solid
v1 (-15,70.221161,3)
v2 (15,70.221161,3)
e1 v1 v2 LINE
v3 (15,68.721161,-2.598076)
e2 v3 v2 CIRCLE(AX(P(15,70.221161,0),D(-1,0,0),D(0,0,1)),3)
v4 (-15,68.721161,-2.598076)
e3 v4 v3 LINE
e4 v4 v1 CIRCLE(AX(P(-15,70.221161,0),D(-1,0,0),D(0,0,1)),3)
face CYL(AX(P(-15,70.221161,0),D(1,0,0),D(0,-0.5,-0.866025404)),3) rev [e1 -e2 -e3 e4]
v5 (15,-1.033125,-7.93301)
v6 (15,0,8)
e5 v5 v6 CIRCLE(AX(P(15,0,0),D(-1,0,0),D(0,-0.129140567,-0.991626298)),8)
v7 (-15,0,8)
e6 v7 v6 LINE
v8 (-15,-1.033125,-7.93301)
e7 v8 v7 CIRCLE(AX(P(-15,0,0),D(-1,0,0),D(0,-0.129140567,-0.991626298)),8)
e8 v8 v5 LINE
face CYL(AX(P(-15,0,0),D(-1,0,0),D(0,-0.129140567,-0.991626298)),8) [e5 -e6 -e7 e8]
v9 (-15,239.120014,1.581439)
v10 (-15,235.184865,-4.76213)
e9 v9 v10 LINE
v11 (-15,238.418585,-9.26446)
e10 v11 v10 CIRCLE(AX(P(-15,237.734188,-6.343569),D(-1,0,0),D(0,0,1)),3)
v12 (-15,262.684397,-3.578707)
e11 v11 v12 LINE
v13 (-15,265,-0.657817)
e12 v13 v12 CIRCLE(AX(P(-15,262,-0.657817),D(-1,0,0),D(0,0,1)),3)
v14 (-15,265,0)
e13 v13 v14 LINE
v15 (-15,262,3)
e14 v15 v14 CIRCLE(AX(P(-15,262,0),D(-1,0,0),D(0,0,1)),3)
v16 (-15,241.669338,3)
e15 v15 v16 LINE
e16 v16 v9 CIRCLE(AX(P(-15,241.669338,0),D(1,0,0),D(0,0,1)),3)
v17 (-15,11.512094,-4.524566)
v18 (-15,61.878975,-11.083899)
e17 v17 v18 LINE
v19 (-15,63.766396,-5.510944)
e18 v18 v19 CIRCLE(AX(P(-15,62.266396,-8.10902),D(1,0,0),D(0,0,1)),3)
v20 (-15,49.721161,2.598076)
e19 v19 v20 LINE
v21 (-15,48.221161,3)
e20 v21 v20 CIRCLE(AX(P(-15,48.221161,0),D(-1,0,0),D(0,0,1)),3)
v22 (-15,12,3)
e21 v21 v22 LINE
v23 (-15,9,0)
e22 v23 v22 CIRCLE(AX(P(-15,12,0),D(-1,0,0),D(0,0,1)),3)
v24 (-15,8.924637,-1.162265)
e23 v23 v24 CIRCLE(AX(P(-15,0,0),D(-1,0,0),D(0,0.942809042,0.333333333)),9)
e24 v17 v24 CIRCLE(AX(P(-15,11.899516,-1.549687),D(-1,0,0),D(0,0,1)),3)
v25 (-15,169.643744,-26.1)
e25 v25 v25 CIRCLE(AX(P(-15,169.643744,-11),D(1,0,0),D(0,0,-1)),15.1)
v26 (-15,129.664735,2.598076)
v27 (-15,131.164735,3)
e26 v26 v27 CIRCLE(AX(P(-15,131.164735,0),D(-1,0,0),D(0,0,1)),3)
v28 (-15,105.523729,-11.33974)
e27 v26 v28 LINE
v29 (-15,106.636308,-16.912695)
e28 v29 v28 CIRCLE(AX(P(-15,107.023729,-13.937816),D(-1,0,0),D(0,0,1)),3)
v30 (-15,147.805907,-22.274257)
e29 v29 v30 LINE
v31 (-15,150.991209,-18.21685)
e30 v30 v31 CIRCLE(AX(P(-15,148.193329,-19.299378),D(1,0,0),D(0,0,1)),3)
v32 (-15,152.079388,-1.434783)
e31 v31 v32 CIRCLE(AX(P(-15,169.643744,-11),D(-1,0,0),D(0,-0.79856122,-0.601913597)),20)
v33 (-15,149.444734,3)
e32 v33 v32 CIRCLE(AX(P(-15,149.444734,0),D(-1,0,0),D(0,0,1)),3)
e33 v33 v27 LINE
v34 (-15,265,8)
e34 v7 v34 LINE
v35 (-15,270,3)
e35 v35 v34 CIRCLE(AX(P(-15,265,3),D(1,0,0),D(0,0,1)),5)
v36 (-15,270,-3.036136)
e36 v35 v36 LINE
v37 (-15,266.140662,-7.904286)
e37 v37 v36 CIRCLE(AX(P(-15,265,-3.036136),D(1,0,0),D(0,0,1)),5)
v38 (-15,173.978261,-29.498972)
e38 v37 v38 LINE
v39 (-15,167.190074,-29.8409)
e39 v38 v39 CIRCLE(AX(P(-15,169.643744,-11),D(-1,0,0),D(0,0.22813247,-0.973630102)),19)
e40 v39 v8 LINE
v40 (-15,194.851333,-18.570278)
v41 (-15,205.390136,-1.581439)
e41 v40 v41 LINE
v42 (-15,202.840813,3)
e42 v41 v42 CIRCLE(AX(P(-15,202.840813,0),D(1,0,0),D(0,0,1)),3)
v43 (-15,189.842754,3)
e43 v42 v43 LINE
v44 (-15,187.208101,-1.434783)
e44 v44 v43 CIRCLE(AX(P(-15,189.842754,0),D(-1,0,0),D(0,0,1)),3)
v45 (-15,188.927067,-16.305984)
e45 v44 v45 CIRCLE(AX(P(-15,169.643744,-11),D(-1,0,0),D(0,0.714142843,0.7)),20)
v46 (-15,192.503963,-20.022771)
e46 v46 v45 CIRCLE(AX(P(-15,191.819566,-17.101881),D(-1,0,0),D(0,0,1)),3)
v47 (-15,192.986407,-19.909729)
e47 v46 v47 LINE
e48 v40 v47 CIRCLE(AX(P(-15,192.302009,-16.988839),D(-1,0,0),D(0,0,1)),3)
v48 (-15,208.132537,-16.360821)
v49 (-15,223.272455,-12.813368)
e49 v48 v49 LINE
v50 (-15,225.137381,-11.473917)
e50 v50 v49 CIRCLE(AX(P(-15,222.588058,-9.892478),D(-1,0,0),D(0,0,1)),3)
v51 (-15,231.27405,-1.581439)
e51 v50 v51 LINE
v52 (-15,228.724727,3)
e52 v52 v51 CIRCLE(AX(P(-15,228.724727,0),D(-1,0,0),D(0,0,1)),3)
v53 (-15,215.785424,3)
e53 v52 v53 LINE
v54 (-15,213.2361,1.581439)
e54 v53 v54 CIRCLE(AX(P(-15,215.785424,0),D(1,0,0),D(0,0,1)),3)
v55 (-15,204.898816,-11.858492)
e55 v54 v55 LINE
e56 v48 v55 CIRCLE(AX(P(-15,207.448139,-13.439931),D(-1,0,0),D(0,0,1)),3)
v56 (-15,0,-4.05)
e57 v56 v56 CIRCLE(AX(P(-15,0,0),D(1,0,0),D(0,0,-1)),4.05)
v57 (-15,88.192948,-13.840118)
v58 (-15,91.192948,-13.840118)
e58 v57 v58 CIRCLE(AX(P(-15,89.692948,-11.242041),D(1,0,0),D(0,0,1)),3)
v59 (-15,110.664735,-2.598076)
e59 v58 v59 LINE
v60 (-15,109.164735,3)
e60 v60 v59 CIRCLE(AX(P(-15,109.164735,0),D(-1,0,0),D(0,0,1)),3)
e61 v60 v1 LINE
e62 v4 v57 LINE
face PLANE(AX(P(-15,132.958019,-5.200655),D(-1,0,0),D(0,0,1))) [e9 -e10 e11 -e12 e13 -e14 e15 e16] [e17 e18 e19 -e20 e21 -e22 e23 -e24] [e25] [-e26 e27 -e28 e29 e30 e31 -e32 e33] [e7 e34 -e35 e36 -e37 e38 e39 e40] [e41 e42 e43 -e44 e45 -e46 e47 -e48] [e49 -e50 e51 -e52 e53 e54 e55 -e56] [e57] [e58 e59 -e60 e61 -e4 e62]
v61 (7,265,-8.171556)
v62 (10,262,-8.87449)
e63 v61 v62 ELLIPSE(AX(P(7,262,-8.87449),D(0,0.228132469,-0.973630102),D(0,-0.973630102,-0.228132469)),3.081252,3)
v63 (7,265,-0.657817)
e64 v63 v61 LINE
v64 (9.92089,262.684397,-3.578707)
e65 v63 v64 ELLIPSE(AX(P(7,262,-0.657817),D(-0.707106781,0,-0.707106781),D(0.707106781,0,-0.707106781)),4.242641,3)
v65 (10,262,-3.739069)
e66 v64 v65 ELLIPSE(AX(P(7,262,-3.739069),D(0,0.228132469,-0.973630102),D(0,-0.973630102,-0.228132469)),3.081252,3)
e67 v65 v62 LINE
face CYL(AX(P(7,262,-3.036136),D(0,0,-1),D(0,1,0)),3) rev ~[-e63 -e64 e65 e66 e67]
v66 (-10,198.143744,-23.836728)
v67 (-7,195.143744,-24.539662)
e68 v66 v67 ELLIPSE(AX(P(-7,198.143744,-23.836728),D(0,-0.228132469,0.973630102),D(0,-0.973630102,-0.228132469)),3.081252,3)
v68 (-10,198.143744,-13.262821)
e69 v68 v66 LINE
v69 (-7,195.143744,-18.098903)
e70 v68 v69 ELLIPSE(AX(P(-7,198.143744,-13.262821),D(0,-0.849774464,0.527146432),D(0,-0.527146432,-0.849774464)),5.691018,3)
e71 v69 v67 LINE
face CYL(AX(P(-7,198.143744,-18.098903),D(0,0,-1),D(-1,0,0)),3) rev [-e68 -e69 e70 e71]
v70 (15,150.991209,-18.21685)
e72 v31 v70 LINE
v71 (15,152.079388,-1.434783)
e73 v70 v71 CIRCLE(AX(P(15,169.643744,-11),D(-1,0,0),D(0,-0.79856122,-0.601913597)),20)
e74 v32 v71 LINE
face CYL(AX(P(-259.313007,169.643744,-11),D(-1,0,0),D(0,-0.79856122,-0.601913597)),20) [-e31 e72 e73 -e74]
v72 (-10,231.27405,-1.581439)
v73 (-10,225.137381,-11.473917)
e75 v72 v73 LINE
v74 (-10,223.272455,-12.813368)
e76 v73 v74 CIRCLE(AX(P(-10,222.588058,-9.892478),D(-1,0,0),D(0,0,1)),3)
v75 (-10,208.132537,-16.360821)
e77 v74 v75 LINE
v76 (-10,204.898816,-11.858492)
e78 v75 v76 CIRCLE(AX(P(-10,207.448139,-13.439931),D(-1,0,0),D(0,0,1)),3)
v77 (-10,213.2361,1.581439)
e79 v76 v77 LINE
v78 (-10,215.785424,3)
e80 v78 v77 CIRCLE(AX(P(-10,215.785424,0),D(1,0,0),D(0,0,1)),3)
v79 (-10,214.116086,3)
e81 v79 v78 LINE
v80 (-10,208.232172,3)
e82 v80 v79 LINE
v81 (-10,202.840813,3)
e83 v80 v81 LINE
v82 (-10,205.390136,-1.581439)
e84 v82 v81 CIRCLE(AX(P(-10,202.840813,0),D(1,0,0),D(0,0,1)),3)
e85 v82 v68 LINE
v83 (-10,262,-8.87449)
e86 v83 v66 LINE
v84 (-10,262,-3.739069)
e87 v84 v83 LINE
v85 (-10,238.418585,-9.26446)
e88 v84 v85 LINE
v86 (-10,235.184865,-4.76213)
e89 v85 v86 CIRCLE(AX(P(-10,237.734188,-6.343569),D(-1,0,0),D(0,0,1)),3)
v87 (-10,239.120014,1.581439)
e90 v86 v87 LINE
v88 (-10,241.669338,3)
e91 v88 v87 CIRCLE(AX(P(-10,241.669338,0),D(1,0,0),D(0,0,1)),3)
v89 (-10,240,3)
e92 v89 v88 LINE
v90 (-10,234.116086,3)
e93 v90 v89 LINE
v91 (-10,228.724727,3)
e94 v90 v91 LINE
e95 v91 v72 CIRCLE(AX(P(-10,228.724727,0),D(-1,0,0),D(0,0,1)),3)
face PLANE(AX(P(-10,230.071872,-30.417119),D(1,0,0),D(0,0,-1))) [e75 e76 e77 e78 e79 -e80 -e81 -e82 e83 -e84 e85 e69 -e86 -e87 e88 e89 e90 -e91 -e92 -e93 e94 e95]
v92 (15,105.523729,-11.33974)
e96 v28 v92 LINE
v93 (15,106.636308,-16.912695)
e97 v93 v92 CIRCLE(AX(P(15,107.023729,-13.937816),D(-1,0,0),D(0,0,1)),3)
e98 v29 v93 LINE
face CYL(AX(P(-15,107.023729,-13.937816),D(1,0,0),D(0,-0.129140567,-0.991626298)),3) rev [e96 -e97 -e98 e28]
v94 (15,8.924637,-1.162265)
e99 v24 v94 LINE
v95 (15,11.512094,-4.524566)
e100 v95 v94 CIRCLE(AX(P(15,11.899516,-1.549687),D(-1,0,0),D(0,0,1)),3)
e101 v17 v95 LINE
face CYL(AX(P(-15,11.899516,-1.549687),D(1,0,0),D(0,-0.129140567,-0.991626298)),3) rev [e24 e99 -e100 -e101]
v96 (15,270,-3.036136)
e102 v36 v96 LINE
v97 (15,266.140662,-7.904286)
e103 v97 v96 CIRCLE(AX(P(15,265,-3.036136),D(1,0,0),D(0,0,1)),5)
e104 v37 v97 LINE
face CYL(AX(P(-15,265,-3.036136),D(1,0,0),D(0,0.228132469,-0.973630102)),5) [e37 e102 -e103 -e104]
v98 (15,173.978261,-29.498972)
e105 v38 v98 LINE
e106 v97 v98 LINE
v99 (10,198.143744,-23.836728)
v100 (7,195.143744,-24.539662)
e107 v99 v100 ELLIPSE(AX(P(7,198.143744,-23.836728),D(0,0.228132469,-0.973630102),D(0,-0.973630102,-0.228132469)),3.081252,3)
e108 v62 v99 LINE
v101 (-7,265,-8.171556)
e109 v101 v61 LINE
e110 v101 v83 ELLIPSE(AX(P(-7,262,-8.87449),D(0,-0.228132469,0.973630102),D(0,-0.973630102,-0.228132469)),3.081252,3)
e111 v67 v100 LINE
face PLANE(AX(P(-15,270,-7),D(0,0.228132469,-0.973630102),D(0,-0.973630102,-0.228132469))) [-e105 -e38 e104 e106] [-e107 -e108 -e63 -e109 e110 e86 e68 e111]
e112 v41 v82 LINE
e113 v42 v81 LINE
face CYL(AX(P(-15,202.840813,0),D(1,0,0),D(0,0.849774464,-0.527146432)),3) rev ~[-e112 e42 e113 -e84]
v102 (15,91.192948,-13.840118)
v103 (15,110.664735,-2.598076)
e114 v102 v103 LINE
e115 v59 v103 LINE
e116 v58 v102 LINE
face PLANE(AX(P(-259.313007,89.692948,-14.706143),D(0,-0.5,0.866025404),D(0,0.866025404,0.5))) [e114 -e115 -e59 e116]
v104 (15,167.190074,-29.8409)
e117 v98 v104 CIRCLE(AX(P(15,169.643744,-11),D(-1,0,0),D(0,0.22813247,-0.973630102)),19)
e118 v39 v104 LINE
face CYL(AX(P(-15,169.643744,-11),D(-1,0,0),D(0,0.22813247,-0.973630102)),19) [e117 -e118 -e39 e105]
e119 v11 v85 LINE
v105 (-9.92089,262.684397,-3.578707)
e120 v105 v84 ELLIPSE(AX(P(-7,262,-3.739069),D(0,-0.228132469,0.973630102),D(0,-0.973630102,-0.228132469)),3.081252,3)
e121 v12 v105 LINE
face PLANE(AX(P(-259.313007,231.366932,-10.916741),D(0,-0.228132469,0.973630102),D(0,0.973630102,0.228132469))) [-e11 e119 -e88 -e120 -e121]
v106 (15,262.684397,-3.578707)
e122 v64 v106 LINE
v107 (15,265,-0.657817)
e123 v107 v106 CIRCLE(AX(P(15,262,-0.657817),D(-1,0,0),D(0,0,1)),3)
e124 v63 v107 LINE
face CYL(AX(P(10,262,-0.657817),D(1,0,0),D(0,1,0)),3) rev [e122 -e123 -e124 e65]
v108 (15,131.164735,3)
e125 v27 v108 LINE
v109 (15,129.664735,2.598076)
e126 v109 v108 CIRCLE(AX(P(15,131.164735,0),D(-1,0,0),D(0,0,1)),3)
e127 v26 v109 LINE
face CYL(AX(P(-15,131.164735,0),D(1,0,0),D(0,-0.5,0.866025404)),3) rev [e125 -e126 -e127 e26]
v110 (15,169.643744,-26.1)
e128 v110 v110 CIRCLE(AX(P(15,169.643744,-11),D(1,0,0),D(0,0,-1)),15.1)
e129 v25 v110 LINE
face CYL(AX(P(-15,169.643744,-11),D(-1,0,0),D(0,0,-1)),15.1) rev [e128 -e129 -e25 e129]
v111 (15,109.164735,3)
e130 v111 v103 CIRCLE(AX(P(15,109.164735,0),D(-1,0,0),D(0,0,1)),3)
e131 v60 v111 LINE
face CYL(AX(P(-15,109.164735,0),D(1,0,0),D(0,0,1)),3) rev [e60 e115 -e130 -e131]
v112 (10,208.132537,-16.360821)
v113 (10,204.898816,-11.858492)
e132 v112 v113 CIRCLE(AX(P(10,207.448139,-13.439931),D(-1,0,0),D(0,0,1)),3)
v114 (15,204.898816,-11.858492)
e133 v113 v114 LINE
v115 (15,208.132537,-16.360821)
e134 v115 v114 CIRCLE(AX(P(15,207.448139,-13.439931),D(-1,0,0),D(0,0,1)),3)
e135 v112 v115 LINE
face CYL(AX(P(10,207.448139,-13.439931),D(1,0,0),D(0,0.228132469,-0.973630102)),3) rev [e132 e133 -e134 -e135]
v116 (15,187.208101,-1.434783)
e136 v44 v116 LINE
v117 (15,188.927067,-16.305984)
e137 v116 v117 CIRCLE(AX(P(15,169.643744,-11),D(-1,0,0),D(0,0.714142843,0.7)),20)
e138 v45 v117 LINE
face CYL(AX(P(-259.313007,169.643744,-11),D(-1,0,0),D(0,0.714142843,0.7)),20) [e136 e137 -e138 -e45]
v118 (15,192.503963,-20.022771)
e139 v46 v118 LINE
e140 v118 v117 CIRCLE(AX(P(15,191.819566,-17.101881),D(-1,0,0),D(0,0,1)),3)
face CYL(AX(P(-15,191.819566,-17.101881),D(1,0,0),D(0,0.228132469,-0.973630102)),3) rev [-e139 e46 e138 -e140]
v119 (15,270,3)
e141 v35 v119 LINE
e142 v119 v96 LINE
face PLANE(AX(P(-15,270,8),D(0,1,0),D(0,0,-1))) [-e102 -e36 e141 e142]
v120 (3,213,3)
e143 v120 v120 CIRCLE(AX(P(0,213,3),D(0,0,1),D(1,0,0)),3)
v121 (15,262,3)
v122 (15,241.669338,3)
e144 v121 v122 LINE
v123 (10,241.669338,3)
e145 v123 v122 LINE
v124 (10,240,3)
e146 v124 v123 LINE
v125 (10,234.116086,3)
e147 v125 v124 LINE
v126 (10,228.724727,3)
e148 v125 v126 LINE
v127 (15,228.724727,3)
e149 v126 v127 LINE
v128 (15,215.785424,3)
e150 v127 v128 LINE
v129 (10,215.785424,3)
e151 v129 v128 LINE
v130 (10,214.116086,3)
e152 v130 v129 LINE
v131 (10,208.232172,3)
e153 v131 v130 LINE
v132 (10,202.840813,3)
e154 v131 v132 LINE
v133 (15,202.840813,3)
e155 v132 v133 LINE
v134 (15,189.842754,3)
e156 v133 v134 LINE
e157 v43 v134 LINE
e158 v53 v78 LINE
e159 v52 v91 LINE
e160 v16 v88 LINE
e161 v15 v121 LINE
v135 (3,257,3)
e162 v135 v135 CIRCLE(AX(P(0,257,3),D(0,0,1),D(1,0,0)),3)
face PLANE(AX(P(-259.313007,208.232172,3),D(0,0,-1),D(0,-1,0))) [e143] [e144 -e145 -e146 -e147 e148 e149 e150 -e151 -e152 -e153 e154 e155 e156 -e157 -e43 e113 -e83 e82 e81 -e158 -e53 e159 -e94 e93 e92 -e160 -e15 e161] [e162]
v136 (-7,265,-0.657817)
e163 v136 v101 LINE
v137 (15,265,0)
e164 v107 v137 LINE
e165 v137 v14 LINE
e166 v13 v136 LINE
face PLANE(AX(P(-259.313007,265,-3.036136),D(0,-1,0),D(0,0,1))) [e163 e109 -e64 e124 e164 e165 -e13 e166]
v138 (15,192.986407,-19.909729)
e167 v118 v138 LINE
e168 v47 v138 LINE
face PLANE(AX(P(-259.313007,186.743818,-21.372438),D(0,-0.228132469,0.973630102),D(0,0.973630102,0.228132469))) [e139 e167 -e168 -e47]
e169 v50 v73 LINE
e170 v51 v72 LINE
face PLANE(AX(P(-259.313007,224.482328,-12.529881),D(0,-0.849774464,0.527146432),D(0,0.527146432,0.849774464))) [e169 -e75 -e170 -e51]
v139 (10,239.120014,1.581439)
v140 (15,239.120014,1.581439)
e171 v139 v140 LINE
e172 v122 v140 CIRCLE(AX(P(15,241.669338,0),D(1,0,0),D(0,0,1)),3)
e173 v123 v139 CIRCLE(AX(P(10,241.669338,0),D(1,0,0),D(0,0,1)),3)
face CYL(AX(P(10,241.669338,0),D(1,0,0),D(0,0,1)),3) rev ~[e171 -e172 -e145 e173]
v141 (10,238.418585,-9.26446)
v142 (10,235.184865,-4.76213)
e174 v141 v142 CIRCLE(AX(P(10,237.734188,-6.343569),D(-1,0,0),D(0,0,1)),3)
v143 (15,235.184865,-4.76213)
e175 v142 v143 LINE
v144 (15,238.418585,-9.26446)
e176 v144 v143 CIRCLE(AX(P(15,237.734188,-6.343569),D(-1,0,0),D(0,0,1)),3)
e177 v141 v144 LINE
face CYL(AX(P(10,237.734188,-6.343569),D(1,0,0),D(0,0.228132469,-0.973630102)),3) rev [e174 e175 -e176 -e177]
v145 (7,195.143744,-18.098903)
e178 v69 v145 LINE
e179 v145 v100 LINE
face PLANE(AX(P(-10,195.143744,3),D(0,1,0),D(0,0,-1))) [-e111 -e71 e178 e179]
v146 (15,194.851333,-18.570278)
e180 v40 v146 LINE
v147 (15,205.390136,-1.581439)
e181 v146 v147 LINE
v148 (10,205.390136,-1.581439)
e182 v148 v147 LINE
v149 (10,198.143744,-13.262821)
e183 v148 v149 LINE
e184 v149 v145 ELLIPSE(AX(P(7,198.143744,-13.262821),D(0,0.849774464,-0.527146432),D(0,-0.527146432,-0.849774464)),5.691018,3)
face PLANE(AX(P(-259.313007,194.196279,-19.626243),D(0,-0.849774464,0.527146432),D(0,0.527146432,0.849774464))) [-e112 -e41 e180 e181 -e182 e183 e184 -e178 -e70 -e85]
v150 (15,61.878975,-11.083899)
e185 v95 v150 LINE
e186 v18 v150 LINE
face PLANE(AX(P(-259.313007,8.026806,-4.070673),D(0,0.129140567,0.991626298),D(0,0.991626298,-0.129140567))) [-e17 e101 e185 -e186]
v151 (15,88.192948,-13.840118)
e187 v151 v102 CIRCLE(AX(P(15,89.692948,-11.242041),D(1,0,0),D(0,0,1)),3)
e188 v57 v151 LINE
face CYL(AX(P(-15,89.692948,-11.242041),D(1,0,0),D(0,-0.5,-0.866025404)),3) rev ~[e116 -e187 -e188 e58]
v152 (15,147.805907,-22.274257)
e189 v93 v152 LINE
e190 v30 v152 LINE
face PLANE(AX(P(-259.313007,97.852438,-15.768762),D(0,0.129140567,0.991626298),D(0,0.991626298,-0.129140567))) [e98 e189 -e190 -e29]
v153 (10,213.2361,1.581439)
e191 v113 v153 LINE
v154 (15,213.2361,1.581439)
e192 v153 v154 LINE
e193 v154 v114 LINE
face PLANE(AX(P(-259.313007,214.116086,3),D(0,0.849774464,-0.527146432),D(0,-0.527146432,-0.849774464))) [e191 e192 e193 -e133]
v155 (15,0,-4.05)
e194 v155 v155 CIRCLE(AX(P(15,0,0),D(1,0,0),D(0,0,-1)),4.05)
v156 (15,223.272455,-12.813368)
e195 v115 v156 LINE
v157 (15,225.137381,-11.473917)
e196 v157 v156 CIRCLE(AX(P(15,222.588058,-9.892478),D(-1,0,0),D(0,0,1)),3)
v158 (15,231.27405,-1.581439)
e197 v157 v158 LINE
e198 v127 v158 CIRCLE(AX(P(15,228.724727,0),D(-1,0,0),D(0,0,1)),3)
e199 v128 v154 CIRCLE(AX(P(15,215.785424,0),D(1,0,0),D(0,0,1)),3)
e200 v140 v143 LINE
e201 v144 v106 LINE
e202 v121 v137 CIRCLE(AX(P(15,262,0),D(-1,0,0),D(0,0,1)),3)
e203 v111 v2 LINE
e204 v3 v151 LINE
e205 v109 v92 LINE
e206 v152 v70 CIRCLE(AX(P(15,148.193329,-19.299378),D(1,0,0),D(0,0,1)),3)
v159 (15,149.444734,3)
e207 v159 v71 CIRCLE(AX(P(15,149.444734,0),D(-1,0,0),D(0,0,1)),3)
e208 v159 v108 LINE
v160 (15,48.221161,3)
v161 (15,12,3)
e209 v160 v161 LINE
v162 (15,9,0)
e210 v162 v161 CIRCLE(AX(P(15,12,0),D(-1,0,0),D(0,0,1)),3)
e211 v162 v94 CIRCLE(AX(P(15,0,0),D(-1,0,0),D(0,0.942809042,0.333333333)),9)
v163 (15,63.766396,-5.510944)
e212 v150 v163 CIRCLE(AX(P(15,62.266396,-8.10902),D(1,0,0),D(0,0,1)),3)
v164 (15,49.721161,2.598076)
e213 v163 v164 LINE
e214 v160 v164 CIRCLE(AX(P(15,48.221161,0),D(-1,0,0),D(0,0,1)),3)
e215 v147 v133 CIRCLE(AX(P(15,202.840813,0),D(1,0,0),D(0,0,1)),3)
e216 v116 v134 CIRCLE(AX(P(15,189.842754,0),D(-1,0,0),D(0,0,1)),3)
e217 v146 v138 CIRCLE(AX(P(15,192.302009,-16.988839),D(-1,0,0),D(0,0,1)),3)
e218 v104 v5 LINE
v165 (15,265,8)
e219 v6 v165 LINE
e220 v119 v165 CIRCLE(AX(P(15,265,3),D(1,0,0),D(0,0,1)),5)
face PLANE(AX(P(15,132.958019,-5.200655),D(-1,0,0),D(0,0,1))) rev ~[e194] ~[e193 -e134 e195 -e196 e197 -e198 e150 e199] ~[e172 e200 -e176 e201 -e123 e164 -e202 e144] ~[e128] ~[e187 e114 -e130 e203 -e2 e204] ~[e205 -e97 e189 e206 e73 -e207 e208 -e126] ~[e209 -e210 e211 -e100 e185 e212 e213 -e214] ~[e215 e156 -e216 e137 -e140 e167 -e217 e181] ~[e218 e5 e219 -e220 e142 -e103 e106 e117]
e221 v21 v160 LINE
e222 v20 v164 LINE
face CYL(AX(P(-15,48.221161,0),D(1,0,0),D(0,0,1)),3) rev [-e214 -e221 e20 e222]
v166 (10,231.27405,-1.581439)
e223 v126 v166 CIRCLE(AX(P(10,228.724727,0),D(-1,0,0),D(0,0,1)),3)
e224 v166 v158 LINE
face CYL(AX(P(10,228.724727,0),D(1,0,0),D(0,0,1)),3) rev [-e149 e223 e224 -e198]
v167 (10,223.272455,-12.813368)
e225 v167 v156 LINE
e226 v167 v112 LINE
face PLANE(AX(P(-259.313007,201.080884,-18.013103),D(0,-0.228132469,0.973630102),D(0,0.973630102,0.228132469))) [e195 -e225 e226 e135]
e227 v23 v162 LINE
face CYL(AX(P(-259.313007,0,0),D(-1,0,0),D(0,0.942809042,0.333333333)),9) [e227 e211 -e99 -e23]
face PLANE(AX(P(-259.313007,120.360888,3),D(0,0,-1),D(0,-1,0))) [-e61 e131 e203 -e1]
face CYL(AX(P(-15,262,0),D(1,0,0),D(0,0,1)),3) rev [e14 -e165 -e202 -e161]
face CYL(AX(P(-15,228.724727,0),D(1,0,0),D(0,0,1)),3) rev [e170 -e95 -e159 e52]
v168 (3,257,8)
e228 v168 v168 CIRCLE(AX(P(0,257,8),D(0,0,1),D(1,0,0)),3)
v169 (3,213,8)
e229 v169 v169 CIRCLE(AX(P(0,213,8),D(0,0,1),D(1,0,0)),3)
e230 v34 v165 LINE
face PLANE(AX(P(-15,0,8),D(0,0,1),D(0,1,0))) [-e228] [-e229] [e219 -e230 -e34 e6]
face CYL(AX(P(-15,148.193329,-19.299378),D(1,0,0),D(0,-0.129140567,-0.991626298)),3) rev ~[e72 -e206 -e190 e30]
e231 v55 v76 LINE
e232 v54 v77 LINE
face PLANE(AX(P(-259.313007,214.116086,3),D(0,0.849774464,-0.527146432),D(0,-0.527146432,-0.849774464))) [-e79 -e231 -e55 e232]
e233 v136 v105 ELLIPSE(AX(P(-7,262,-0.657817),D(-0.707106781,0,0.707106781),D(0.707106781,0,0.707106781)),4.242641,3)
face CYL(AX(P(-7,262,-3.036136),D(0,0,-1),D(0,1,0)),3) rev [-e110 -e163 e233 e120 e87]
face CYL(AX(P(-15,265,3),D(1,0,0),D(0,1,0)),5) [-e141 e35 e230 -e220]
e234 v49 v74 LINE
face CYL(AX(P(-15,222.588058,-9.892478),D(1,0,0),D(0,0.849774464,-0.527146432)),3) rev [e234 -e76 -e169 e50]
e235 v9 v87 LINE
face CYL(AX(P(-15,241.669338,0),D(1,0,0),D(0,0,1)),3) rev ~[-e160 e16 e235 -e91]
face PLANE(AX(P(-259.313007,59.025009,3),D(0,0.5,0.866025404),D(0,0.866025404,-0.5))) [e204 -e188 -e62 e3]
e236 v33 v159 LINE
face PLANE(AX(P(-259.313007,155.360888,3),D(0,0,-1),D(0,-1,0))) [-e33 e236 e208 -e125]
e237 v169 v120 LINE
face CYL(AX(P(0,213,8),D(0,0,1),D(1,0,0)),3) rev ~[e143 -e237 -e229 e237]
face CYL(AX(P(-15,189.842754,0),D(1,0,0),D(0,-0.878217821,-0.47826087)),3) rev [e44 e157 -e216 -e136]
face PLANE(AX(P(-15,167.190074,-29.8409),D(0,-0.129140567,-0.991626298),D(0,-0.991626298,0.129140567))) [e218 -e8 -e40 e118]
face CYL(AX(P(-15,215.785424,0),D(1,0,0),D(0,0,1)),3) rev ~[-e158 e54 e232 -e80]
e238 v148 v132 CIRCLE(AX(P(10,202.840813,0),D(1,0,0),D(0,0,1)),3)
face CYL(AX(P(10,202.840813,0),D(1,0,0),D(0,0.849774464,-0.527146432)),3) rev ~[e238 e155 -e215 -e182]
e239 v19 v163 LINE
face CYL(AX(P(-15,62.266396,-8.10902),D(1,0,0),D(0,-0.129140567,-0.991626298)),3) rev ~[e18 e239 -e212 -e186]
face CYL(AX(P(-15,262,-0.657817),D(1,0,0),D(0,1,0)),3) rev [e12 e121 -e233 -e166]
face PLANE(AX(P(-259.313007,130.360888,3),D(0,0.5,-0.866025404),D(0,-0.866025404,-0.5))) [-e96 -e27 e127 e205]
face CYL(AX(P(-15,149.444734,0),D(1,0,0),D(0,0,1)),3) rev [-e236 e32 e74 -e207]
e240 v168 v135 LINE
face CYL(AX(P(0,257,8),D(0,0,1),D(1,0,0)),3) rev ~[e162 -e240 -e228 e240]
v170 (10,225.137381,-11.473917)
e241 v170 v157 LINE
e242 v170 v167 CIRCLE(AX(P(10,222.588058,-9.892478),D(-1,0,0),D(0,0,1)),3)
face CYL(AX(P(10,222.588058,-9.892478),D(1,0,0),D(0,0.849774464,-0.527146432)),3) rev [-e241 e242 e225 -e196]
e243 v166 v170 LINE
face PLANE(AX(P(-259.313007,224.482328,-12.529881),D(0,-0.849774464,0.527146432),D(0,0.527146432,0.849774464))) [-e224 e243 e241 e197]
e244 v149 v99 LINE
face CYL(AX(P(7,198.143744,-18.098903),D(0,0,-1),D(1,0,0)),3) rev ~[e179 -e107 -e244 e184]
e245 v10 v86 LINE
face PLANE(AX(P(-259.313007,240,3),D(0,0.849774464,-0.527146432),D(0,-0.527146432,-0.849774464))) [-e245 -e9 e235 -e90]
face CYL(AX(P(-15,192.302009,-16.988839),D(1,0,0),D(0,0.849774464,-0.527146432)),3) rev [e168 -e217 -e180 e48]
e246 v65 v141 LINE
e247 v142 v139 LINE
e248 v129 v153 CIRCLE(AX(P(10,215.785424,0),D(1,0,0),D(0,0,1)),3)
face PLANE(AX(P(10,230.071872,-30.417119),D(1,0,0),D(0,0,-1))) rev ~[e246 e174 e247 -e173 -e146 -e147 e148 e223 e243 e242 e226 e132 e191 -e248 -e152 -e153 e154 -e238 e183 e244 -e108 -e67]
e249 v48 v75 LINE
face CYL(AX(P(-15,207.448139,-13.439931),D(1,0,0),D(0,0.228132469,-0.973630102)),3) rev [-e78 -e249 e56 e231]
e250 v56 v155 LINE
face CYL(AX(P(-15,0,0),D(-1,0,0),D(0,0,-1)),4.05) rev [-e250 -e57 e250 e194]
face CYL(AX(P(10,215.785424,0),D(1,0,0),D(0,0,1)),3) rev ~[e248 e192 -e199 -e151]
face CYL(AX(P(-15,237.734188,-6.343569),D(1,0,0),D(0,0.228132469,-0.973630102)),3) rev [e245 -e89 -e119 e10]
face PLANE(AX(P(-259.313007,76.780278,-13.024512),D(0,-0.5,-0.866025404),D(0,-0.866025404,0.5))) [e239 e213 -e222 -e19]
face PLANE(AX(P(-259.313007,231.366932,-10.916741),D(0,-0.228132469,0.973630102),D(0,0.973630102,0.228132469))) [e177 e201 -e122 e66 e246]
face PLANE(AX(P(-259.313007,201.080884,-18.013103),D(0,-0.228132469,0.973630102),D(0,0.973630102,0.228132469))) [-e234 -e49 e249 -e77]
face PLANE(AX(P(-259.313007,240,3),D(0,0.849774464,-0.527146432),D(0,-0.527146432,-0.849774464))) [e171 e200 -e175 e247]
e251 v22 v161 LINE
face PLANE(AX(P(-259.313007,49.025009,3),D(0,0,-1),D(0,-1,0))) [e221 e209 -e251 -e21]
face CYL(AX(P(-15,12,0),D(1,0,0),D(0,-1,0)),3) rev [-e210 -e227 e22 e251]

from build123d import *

# Parameters (mm, degrees)
BOSS_EXTRUDE1_DEPTH      = 15
BOSS_EXTRUDE1_DEPTH_BACK = 15
SKETCH1_R                = 4.05
SKETCH1_R_2              = 15.1
CUT_EXTRUDE2_DEPTH       = 10
CUT_EXTRUDE2_DEPTH_BACK  = 10
SKETCH5_W                = 66.834238055
SKETCH5_H                = 69.856255641
CUT_EXTRUDE1_DEPTH       = 274.313007374
CUT_EXTRUDE1_DEPTH_BACK  = 274.313007374
FILLET1_R                = 3
FILLET2_R                = 5
SKETCH6_R                = 3
CUT_EXTRUDE3_DEPTH       = 5


with BuildPart() as part:
    # Sketch1 → Boss-Extrude1 (new, two sides: drawn at the far end of the back side and taken through both)
    with BuildSketch(Plane(origin=(0, 0, 0), x_dir=(0, 0, -1), z_dir=(1, 0, 0)).offset(-BOSS_EXTRUDE1_DEPTH_BACK)):
        with BuildLine():
            Line((-8, 0), (-8, 270))
            Line((-8, 270), (7, 270))
            Line((7, 270), (29.498971947, 173.978261275))
            ThreePointArc((29.498971947, 173.978261275), (29.975942027, 170.599581269), (29.840899654, 167.190073592))
            Line((29.840899654, 167.190073592), (7.933010381, -1.033124533))
            ThreePointArc((7.933010381, -1.033124533), (-0.517647059, -7.983235029), (-8, 0))
        make_face()
        Circle(SKETCH1_R, mode=Mode.SUBTRACT)
        with Locations((11, 169.643744359)):
            Circle(SKETCH1_R_2, mode=Mode.SUBTRACT)
    extrude(amount=BOSS_EXTRUDE1_DEPTH + BOSS_EXTRUDE1_DEPTH_BACK)

    # Sketch5 → Cut-Extrude2 (cut, two sides: drawn at the far end of the back side and taken through both)
    with BuildSketch(Plane(origin=(0, 0, 0), x_dir=(0, 0, -1), z_dir=(1, 0, 0)).offset(-CUT_EXTRUDE2_DEPTH_BACK)):
        with Locations((30.417119028, 230.07187218)):
            Rectangle(SKETCH5_W, SKETCH5_H)
    extrude(amount=CUT_EXTRUDE2_DEPTH + CUT_EXTRUDE2_DEPTH_BACK, mode=Mode.SUBTRACT)

    # Sketch4 → Cut-Extrude1 (cut, two sides: drawn at the far end of the back side and taken through both)
    with BuildSketch(Plane(origin=(15, 0, 0), x_dir=(0, 0, -1), z_dir=(1, 0, 0)).offset(-CUT_EXTRUDE1_DEPTH_BACK)):
        with BuildLine():
            ThreePointArc((23.038271938, 153.672519962), (9.705882353, 149.685656787), (-3, 155.360887501))
            Line((-3, 155.360887501), (-3, 130.360887501))
            Line((-3, 130.360887501), (15.768762187, 97.852437799))
            Line((15.768762187, 97.852437799), (23.038271938, 153.672519962))
        make_face()
        with BuildLine():
            Line((-3, 208.232171682), (-3, 183.926601216))
            ThreePointArc((-3, 183.926601216), (8.703485357, 189.511457375), (21.372438031, 186.743818314))
            Line((21.372438031, 186.743818314), (19.626242772, 194.196279044))
            Line((19.626242772, 194.196279044), (-3, 208.232171682))
        make_face()
        Polygon((14.706143018, 89.692948188), (-3, 120.360887501), (-3, 59.025008875), align=None)
        Polygon((-3, 234.116085841), (-3, 214.116085841), (18.013102612, 201.080883522), (12.529881351, 224.48232784), align=None)
        with BuildLine():
            Line((13.024511965, 76.780277764), (-3, 49.025008875))
            Line((-3, 49.025008875), (-3, 8.485281374))
            ThreePointArc((-3, 8.485281374), (0.582352941, 8.981139407), (4.070672938, 8.026806453))
            Line((4.070672938, 8.026806453), (13.024511965, 76.780277764))
        make_face()
        Polygon((-3, 265), (-3, 240), (10.916741191, 231.366932319), (3.03613565, 265), align=None)
    extrude(amount=CUT_EXTRUDE1_DEPTH + CUT_EXTRUDE1_DEPTH_BACK, mode=Mode.SUBTRACT)

    # Fillet1
    fillet1_edges = [part.edges().sort_by_distance(p)[0] for p in [
        (0, 89.692948188, -14.706143018),
        (0, 59.025008875, 3),
        (0, 120.360887501, 3),
        (12.5, 240, 3),
        (12.5, 265, -3.03613565),
        (12.5, 231.366932319, -10.916741191),
        (-12.5, 240, 3),
        (-12.5, 265, -3.03613565),
        (-12.5, 231.366932319, -10.916741191),
        (0, 183.926601216, 3),
        (12.5, 208.232171682, 3),
        (-12.5, 208.232171682, 3),
        (0, 186.743818314, -21.372438031),
        (0, 194.196279044, -19.626242772),
        (0, 8.026806453, -4.070672938),
        (0, 8.485281374, 3),
        (0, 49.025008875, 3),
        (0, 76.780277764, -13.024511965),
        (12.5, 214.116085841, 3),
        (12.5, 234.116085841, 3),
        (12.5, 224.48232784, -12.529881351),
        (12.5, 201.080883522, -18.013102612),
        (-12.5, 214.116085841, 3),
        (-12.5, 234.116085841, 3),
        (-12.5, 224.48232784, -12.529881351),
        (-12.5, 201.080883522, -18.013102612),
        (0, 155.360887501, 3),
        (0, 153.672519962, -23.038271938),
        (0, 97.852437799, -15.768762187),
        (0, 130.360887501, 3),
        (0, 265, 3),
        (-10, 265, -5.603845906),
        (10, 265, -5.603845906),
        (-10, 195.143744359, -21.319282147),
        (10, 195.143744359, -21.319282147),
    ]]
    fillet(fillet1_edges, radius=FILLET1_R)

    # Fillet2
    fillet2_edges = [part.edges().sort_by_distance(p)[0] for p in [
        (0, 270, 8),
        (0, 270, -7),
    ]]
    fillet(fillet2_edges, radius=FILLET2_R)

    # Sketch6 → Cut-Extrude3 (cut)
    with BuildSketch(Plane.XY.offset(8)):
        with Locations((0, 257)):
            Circle(SKETCH6_R)
        with Locations((0, 213)):
            Circle(SKETCH6_R)
    extrude(amount=-CUT_EXTRUDE3_DEPTH, mode=Mode.SUBTRACT)


solid = part.part
